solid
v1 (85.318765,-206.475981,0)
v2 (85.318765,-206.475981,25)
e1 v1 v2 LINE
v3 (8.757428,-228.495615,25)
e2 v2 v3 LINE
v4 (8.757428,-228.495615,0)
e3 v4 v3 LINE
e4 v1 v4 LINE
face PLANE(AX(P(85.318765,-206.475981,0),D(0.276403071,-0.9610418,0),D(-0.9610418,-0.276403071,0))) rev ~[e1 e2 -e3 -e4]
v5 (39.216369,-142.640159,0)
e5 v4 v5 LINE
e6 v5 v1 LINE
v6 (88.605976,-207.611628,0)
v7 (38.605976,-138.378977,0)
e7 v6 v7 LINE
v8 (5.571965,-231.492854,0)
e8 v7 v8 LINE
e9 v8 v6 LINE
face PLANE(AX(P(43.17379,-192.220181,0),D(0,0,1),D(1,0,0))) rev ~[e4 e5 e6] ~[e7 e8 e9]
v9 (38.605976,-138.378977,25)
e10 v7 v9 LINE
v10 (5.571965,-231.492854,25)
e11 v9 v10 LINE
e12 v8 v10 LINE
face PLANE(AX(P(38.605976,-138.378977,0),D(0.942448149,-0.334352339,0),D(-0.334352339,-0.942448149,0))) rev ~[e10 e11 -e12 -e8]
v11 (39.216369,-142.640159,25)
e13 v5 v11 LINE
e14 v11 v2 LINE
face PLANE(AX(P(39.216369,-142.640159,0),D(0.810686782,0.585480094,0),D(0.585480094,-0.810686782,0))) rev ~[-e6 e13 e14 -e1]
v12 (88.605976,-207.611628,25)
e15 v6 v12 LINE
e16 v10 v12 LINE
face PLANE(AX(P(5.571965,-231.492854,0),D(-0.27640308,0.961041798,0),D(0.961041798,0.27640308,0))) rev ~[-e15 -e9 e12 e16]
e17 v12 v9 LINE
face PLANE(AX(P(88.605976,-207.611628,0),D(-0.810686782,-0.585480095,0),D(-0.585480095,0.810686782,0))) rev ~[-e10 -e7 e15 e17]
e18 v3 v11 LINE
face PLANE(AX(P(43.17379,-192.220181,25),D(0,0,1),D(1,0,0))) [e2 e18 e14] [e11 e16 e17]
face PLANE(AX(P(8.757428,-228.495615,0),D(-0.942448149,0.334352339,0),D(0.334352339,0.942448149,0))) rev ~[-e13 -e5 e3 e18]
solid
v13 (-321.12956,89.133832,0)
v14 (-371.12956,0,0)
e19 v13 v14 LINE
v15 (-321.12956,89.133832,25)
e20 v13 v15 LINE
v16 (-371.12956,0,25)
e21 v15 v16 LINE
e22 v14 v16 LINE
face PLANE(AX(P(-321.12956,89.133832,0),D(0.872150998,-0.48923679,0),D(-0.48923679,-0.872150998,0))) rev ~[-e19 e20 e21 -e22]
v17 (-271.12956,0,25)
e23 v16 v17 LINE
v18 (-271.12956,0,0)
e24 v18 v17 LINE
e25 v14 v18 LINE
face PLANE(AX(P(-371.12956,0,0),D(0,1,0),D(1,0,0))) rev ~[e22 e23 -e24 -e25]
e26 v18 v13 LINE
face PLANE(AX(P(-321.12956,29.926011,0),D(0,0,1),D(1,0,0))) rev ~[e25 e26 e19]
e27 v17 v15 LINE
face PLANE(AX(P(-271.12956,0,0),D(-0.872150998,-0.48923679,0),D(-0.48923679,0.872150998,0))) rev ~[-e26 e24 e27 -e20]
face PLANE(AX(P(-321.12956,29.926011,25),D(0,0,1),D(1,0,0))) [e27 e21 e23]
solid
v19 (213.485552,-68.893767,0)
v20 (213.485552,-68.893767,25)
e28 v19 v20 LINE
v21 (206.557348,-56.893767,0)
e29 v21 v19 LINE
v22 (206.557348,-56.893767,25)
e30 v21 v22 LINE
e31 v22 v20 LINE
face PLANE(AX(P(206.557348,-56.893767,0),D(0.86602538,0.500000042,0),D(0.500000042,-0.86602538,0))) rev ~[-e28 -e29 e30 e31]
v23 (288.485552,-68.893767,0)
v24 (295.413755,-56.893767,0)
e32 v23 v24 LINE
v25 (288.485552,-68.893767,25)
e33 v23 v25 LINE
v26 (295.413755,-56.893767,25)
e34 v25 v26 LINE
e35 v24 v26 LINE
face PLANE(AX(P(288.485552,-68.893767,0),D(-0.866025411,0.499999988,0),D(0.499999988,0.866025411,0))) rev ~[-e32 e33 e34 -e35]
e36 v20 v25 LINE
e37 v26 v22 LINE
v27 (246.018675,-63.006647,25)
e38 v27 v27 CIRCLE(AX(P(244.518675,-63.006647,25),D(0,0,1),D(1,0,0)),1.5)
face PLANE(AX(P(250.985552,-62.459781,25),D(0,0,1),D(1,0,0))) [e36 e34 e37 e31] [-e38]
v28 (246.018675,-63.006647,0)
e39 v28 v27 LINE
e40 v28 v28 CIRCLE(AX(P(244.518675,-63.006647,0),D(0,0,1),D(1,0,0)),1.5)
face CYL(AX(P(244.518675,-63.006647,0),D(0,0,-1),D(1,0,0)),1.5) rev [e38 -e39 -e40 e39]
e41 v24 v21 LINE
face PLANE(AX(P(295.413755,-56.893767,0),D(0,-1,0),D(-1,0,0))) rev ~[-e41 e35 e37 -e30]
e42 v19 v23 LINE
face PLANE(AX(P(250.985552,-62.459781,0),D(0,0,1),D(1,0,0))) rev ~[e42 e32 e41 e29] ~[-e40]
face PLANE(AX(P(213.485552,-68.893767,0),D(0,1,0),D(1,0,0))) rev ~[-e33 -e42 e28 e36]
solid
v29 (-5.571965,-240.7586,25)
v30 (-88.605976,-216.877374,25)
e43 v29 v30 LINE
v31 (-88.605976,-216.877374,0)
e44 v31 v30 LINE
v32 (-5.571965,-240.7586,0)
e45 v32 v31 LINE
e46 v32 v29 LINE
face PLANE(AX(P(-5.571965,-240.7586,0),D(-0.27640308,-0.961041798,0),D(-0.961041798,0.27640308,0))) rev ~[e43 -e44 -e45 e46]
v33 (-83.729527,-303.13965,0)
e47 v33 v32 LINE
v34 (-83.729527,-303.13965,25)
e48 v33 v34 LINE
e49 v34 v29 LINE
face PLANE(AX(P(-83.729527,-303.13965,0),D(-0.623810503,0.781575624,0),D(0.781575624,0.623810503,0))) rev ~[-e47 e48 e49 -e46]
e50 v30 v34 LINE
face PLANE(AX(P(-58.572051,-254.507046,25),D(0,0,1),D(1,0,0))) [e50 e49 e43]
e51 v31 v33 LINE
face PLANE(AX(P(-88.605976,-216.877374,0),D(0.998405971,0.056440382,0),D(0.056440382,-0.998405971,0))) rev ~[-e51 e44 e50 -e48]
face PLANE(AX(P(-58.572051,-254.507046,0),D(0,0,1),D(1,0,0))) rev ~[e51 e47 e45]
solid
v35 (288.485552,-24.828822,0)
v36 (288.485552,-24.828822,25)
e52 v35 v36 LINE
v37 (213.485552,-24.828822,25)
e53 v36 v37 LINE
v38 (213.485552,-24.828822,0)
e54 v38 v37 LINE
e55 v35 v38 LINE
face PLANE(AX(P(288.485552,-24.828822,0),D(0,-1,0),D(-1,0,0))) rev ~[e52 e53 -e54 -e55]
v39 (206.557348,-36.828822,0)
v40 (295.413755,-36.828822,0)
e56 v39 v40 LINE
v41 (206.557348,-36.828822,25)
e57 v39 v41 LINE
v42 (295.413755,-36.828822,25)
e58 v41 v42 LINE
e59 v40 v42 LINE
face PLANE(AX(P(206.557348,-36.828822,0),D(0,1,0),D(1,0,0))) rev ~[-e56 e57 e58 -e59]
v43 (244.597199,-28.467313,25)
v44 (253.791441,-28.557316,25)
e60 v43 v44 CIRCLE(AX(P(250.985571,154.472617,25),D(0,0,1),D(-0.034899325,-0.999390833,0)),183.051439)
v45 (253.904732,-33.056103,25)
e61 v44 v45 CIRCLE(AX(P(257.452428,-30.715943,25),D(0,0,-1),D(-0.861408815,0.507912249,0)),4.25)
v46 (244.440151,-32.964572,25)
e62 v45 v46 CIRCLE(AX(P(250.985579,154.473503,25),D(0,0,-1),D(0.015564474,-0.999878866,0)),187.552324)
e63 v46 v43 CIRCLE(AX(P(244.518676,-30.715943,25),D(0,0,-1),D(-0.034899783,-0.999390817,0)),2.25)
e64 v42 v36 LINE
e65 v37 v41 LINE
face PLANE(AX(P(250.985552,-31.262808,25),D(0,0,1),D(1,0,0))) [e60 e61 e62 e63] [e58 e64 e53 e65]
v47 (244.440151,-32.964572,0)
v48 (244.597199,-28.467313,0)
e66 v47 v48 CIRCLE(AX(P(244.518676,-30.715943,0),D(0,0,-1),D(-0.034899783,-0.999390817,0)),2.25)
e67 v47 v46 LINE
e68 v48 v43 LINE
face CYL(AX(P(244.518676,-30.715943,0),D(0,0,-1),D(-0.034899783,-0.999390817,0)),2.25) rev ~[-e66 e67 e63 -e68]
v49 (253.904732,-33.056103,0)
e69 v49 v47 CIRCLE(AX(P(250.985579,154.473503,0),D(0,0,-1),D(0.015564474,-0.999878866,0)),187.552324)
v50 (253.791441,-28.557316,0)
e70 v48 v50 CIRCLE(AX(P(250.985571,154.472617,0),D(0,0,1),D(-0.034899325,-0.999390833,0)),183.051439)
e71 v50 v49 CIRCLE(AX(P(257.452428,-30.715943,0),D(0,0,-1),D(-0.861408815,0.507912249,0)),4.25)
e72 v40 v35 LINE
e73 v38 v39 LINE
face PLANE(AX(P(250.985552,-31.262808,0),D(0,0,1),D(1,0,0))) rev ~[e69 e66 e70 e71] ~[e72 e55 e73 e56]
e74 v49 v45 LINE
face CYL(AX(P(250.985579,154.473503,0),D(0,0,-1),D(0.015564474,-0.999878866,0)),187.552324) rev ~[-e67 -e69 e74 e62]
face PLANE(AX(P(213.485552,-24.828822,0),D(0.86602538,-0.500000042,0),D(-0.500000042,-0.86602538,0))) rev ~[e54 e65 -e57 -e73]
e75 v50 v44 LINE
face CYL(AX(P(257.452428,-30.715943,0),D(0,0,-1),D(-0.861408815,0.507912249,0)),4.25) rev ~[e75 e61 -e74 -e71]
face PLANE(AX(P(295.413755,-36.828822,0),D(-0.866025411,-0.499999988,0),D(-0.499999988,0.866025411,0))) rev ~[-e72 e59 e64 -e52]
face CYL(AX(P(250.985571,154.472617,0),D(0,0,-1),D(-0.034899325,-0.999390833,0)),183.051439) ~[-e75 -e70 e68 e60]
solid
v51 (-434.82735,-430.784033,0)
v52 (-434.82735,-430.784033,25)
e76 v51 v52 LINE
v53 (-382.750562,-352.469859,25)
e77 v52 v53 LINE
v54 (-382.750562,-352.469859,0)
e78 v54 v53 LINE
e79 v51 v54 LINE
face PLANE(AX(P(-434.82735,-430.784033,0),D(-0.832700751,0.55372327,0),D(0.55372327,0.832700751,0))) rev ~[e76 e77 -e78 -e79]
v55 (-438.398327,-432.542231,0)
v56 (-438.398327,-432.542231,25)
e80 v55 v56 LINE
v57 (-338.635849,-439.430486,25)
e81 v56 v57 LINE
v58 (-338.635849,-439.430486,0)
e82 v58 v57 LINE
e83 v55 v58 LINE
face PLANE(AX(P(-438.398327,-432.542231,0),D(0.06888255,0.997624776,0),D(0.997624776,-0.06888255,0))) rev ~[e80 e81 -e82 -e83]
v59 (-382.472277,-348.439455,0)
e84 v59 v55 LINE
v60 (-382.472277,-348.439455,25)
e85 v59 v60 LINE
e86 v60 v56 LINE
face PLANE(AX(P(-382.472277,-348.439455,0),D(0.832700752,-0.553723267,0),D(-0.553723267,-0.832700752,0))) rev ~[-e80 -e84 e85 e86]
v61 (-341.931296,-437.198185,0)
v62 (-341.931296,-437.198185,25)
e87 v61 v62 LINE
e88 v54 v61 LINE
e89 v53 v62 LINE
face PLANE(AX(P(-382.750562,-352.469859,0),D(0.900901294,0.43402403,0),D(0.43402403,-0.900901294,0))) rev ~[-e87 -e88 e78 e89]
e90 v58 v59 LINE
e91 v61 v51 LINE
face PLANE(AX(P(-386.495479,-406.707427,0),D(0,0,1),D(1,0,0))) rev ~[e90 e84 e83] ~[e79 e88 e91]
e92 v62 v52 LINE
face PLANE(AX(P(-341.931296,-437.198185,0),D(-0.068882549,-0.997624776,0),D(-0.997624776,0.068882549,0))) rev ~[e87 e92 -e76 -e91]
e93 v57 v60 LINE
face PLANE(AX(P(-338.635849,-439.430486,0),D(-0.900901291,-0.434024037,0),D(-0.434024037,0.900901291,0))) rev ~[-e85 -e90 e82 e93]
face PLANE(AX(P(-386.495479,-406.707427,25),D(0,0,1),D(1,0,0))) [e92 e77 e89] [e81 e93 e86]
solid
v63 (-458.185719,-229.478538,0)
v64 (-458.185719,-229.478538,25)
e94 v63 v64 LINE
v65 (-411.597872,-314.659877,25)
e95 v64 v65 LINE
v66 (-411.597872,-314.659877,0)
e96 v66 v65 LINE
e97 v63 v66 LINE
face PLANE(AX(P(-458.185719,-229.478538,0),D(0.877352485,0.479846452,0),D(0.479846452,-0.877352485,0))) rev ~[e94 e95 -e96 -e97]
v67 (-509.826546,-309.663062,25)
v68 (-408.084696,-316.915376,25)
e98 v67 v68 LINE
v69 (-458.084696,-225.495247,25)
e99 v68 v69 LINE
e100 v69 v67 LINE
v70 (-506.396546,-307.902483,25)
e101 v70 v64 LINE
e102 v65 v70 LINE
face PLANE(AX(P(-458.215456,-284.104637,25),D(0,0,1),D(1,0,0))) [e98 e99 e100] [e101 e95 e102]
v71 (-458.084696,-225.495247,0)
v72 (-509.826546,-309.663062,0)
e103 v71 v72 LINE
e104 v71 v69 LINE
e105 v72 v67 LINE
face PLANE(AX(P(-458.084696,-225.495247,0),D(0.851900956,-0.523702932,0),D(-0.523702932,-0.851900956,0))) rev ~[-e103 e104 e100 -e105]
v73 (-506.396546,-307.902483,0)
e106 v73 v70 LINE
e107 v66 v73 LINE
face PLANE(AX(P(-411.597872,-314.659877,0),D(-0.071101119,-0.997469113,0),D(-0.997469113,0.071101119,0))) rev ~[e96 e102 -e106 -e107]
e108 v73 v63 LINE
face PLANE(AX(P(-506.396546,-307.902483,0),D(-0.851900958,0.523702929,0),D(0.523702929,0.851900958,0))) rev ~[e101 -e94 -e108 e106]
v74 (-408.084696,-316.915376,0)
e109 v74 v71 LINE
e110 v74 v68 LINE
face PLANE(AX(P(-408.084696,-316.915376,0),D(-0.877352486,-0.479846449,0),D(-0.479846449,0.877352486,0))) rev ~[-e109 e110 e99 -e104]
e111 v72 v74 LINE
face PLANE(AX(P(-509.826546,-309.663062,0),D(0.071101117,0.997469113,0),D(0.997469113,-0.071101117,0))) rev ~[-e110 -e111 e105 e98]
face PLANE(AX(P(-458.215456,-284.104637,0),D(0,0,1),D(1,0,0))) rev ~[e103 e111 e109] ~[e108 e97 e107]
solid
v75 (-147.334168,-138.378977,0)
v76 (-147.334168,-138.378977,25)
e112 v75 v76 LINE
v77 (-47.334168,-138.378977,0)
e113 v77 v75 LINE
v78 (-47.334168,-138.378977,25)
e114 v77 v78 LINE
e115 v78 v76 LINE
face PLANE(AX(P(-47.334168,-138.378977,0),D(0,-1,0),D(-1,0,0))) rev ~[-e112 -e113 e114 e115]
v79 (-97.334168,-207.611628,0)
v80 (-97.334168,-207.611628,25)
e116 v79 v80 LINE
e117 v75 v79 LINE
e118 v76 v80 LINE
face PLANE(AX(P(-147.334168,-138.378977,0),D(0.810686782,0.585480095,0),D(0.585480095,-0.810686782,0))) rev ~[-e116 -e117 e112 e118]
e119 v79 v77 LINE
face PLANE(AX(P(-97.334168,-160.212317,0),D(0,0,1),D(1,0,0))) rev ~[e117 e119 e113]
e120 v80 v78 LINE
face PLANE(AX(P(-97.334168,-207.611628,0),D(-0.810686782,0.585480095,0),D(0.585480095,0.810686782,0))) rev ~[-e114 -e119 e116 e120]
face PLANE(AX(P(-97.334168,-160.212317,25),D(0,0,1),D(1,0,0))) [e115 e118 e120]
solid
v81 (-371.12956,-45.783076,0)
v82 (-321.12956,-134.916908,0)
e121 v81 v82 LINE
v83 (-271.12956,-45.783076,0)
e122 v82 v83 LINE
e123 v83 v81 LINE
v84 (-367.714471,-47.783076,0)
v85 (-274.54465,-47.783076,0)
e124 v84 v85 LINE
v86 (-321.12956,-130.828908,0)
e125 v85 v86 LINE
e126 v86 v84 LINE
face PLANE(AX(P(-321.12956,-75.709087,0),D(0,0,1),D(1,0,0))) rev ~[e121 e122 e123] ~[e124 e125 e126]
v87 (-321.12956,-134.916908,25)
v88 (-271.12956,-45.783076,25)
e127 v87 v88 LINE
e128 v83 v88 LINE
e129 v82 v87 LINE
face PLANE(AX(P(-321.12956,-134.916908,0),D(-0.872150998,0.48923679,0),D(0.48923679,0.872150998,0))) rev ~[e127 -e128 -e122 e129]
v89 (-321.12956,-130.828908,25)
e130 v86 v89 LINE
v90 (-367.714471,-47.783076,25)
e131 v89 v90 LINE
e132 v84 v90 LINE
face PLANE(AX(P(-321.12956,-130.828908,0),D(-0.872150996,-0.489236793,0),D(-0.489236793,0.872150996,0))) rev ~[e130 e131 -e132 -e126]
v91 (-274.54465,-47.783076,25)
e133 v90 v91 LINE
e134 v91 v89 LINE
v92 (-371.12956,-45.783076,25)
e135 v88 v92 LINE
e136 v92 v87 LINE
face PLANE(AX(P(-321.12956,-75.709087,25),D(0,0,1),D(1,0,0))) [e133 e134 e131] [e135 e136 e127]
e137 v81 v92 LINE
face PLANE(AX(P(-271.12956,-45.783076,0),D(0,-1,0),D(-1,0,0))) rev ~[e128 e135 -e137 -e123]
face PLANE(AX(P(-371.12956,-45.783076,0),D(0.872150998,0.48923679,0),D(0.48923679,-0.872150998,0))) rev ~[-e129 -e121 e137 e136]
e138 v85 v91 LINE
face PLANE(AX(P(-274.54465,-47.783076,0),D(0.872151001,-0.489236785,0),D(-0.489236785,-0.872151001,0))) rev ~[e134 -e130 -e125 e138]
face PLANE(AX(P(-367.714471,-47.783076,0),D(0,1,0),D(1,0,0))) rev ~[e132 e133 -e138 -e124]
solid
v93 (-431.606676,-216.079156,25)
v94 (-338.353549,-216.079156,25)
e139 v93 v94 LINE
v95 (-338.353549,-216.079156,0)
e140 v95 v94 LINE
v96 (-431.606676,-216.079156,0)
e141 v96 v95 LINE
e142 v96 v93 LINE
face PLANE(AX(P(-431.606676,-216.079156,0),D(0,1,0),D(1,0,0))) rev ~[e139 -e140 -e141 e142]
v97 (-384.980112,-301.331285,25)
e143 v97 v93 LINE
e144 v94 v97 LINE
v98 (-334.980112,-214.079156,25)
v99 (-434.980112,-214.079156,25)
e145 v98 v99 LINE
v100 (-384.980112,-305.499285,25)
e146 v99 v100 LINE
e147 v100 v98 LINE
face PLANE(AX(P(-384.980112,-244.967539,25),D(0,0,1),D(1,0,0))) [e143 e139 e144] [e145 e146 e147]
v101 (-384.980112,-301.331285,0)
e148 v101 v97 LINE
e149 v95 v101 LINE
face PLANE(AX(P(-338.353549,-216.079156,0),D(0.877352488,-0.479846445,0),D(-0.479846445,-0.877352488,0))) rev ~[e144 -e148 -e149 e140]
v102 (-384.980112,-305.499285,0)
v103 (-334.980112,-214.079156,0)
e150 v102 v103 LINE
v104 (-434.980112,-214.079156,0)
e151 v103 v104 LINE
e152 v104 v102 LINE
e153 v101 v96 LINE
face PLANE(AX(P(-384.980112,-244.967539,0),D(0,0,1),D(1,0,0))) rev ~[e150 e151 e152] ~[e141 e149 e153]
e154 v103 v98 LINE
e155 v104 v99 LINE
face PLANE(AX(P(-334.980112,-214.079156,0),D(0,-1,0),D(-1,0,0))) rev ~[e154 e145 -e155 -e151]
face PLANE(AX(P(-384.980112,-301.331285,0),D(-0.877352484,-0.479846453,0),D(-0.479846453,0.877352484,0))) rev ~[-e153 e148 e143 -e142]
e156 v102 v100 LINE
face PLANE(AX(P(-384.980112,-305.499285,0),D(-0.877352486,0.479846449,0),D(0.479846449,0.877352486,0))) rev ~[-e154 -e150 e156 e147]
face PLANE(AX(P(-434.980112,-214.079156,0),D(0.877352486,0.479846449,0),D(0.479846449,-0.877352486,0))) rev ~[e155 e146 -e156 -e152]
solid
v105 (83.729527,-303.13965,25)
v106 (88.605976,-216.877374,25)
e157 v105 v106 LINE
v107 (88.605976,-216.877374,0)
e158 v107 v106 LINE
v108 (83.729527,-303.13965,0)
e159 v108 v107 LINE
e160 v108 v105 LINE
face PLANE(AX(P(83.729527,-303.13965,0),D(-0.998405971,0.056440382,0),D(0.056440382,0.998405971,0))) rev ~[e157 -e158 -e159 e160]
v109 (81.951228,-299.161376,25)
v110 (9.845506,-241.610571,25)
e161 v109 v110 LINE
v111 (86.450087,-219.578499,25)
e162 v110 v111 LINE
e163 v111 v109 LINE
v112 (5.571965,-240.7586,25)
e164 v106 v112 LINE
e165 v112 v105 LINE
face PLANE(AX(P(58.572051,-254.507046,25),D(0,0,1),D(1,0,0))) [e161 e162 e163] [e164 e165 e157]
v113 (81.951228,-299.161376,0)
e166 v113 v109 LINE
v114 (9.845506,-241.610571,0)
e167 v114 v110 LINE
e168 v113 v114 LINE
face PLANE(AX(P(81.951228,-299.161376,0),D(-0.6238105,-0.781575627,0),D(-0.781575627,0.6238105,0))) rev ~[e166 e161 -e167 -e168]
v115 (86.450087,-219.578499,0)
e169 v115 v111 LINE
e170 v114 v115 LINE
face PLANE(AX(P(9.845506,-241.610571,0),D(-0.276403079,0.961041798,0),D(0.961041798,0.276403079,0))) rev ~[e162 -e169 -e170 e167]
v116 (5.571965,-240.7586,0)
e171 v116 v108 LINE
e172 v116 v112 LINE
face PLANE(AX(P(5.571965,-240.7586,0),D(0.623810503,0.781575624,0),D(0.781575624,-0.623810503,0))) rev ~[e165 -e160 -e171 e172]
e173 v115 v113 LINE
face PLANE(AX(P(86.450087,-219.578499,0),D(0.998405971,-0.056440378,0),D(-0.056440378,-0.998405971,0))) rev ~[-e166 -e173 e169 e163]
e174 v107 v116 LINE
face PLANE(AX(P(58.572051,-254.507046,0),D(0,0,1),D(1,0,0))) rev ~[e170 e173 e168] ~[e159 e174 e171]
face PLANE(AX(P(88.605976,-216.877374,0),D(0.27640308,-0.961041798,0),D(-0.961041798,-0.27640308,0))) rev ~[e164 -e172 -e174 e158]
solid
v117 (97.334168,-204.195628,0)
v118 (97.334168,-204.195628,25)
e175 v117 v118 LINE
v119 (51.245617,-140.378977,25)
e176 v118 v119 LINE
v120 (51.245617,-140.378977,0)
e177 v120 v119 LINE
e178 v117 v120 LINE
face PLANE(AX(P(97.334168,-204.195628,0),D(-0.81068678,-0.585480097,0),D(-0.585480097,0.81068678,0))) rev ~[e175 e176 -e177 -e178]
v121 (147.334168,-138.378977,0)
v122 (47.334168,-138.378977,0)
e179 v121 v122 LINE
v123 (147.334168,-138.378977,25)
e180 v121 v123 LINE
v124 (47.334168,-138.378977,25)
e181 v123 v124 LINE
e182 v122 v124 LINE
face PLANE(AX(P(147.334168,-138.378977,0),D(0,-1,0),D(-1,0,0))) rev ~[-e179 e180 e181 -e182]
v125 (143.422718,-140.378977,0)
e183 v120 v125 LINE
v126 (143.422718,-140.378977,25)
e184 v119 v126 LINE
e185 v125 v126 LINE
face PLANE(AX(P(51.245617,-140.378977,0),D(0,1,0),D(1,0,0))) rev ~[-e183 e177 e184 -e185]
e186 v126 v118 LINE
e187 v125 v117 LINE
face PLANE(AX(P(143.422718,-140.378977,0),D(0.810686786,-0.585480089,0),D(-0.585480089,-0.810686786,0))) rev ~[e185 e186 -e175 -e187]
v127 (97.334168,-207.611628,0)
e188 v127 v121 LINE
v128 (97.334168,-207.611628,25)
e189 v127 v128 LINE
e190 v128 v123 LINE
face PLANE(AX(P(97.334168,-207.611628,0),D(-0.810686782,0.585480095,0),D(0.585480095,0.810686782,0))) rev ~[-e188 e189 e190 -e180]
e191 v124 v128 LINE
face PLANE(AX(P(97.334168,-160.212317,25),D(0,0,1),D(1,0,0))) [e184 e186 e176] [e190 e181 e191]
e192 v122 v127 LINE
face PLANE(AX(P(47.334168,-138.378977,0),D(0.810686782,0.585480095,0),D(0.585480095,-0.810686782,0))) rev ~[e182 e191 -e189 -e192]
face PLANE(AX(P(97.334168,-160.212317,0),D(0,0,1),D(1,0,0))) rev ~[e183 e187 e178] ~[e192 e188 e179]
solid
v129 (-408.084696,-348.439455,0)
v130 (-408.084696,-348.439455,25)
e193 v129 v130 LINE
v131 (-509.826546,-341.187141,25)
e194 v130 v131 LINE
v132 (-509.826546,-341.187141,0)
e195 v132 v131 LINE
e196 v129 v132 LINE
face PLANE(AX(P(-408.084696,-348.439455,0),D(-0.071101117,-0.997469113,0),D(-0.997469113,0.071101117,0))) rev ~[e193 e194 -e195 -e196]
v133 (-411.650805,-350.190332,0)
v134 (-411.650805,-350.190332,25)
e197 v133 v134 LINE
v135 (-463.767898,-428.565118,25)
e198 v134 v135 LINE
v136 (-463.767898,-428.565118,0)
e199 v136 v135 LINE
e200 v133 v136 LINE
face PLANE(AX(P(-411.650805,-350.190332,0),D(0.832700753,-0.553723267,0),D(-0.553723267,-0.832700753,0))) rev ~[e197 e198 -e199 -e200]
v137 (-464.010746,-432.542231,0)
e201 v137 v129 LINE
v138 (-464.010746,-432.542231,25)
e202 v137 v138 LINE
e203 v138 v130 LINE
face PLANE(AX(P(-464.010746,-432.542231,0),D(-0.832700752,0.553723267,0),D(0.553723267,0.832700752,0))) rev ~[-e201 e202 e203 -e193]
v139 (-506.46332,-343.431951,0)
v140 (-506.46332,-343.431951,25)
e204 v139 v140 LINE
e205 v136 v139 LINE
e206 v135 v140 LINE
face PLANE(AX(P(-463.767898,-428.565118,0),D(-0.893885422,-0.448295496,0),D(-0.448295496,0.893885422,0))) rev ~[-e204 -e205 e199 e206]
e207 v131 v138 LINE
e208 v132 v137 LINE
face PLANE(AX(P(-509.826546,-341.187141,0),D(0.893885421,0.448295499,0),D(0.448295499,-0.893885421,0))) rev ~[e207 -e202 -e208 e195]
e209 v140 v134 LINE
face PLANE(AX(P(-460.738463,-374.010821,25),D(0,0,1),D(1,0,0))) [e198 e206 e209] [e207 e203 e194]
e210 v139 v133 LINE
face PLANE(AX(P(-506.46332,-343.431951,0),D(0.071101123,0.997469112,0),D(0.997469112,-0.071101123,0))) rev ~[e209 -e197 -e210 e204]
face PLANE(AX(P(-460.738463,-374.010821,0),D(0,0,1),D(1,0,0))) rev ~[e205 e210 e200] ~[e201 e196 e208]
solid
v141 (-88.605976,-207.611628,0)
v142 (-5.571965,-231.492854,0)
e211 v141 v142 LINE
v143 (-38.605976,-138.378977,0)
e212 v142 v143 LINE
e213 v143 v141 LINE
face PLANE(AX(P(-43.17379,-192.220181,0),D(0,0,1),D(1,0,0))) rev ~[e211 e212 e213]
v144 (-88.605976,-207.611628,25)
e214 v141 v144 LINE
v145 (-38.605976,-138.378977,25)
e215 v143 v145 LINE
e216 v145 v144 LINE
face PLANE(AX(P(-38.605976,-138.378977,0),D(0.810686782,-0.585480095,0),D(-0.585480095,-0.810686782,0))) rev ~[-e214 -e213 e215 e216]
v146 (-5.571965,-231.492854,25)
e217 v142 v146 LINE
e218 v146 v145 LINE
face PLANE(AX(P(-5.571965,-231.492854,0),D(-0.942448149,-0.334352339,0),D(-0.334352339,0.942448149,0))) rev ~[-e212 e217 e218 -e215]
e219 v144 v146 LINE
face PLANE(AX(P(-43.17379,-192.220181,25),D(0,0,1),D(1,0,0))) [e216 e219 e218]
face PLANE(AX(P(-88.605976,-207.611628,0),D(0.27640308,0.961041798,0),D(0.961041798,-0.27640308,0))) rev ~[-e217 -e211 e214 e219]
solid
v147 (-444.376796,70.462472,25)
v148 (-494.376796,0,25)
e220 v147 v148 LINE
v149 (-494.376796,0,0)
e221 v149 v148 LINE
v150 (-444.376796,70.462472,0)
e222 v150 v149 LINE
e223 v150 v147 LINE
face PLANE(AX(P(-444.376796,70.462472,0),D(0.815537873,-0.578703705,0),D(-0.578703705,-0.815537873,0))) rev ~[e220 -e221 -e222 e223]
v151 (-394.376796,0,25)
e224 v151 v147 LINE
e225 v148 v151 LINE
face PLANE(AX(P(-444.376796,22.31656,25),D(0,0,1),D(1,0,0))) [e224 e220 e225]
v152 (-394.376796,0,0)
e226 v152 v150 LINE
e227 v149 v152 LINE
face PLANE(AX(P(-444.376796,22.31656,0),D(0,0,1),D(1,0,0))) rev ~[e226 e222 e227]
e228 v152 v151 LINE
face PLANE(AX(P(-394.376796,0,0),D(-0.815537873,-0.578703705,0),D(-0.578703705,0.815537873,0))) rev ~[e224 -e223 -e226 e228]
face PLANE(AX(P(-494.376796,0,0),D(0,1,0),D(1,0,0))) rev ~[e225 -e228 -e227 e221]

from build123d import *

# Parameters (mm, degrees)
F0_R     = 1.5
F1_DEPTH = 25


with BuildPart() as f1:
    # F0 (on Top) → F1 (new body)
    with BuildSketch(Plane.XY):
        Polygon((-444.376796, 70.462472), (-494.376796, 0), (-394.376796, 0), align=None)
        Polygon((-321.12956, 89.133832), (-371.12956, 0), (-271.12956, 0), align=None)
        Polygon((-271.12956, -45.783076), (-371.12956, -45.783076), (-321.12956, -134.916908), align=None)
        Polygon((-321.12956, -130.828908), (-367.714471, -47.783076), (-274.54465, -47.783076), align=None, mode=Mode.SUBTRACT)
        Polygon((-509.826546, -309.663062), (-408.084696, -316.915376), (-458.084696, -225.495247), align=None)
        Polygon((-458.185719, -229.478538), (-411.597872, -314.659877), (-506.396546, -307.902483), align=None, mode=Mode.SUBTRACT)
        Polygon((-384.980112, -305.499285), (-334.980112, -214.079156), (-434.980112, -214.079156), align=None)
        Polygon((-384.980112, -301.331285), (-431.606676, -216.079156), (-338.353549, -216.079156), align=None, mode=Mode.SUBTRACT)
        Polygon((-464.010746, -432.542231), (-408.084696, -348.439455), (-509.826546, -341.187141), align=None)
        Polygon((-411.650805, -350.190332), (-463.767898, -428.565118), (-506.46332, -343.431951), align=None, mode=Mode.SUBTRACT)
        Polygon((-338.635849, -439.430486), (-382.472277, -348.439455), (-438.398327, -432.542231), align=None)
        Polygon((-434.82735, -430.784033), (-382.750562, -352.469859), (-341.931296, -437.198185), align=None, mode=Mode.SUBTRACT)
        Polygon((-47.334168, -138.378977), (-147.334168, -138.378977), (-97.334168, -207.611628), align=None)
        Polygon((-38.605976, -138.378977), (-88.605976, -207.611628), (-5.571965, -231.492854), align=None)
        Polygon((-5.571965, -240.7586), (-88.605976, -216.877374), (-83.729527, -303.13965), align=None)
        Polygon((38.605976, -138.378977), (5.571965, -231.492854), (88.605976, -207.611628), align=None)
        Polygon((39.216369, -142.640159), (85.318765, -206.475981), (8.757428, -228.495615), align=None, mode=Mode.SUBTRACT)
        Polygon((147.334168, -138.378977), (47.334168, -138.378977), (97.334168, -207.611628), align=None)
        Polygon((97.334168, -204.195628), (51.245617, -140.378977), (143.422718, -140.378977), align=None, mode=Mode.SUBTRACT)
        Polygon((88.605976, -216.877374), (5.571965, -240.7586), (83.729527, -303.13965), align=None)
        Polygon((9.845506, -241.610571), (86.450087, -219.578499), (81.951228, -299.161376), align=None, mode=Mode.SUBTRACT)
        Polygon((288.485552, -68.893767), (295.413755, -56.893767), (206.557348, -56.893767), (213.485552, -68.893767), align=None)
        with Locations((244.518675, -63.006647)):
            Circle(F0_R, mode=Mode.SUBTRACT)
        Polygon((288.485552, -24.828822), (213.485552, -24.828822), (206.557348, -36.828822), (295.413755, -36.828822), align=None)
        with BuildLine():
            ThreePointArc((253.791441, -28.557316), (261.701081, -30.60895), (253.904732, -33.056103))
            ThreePointArc((253.904732, -33.056103), (249.171864, -33.070052), (244.440151, -32.964572))
            ThreePointArc((244.440151, -32.964572), (242.270046, -30.637419), (244.597199, -28.467313))
            ThreePointArc((244.597199, -28.467313), (249.193754, -28.570052), (253.791441, -28.557316))
        make_face(mode=Mode.SUBTRACT)
    extrude(amount=F1_DEPTH)


solid = f1.part
